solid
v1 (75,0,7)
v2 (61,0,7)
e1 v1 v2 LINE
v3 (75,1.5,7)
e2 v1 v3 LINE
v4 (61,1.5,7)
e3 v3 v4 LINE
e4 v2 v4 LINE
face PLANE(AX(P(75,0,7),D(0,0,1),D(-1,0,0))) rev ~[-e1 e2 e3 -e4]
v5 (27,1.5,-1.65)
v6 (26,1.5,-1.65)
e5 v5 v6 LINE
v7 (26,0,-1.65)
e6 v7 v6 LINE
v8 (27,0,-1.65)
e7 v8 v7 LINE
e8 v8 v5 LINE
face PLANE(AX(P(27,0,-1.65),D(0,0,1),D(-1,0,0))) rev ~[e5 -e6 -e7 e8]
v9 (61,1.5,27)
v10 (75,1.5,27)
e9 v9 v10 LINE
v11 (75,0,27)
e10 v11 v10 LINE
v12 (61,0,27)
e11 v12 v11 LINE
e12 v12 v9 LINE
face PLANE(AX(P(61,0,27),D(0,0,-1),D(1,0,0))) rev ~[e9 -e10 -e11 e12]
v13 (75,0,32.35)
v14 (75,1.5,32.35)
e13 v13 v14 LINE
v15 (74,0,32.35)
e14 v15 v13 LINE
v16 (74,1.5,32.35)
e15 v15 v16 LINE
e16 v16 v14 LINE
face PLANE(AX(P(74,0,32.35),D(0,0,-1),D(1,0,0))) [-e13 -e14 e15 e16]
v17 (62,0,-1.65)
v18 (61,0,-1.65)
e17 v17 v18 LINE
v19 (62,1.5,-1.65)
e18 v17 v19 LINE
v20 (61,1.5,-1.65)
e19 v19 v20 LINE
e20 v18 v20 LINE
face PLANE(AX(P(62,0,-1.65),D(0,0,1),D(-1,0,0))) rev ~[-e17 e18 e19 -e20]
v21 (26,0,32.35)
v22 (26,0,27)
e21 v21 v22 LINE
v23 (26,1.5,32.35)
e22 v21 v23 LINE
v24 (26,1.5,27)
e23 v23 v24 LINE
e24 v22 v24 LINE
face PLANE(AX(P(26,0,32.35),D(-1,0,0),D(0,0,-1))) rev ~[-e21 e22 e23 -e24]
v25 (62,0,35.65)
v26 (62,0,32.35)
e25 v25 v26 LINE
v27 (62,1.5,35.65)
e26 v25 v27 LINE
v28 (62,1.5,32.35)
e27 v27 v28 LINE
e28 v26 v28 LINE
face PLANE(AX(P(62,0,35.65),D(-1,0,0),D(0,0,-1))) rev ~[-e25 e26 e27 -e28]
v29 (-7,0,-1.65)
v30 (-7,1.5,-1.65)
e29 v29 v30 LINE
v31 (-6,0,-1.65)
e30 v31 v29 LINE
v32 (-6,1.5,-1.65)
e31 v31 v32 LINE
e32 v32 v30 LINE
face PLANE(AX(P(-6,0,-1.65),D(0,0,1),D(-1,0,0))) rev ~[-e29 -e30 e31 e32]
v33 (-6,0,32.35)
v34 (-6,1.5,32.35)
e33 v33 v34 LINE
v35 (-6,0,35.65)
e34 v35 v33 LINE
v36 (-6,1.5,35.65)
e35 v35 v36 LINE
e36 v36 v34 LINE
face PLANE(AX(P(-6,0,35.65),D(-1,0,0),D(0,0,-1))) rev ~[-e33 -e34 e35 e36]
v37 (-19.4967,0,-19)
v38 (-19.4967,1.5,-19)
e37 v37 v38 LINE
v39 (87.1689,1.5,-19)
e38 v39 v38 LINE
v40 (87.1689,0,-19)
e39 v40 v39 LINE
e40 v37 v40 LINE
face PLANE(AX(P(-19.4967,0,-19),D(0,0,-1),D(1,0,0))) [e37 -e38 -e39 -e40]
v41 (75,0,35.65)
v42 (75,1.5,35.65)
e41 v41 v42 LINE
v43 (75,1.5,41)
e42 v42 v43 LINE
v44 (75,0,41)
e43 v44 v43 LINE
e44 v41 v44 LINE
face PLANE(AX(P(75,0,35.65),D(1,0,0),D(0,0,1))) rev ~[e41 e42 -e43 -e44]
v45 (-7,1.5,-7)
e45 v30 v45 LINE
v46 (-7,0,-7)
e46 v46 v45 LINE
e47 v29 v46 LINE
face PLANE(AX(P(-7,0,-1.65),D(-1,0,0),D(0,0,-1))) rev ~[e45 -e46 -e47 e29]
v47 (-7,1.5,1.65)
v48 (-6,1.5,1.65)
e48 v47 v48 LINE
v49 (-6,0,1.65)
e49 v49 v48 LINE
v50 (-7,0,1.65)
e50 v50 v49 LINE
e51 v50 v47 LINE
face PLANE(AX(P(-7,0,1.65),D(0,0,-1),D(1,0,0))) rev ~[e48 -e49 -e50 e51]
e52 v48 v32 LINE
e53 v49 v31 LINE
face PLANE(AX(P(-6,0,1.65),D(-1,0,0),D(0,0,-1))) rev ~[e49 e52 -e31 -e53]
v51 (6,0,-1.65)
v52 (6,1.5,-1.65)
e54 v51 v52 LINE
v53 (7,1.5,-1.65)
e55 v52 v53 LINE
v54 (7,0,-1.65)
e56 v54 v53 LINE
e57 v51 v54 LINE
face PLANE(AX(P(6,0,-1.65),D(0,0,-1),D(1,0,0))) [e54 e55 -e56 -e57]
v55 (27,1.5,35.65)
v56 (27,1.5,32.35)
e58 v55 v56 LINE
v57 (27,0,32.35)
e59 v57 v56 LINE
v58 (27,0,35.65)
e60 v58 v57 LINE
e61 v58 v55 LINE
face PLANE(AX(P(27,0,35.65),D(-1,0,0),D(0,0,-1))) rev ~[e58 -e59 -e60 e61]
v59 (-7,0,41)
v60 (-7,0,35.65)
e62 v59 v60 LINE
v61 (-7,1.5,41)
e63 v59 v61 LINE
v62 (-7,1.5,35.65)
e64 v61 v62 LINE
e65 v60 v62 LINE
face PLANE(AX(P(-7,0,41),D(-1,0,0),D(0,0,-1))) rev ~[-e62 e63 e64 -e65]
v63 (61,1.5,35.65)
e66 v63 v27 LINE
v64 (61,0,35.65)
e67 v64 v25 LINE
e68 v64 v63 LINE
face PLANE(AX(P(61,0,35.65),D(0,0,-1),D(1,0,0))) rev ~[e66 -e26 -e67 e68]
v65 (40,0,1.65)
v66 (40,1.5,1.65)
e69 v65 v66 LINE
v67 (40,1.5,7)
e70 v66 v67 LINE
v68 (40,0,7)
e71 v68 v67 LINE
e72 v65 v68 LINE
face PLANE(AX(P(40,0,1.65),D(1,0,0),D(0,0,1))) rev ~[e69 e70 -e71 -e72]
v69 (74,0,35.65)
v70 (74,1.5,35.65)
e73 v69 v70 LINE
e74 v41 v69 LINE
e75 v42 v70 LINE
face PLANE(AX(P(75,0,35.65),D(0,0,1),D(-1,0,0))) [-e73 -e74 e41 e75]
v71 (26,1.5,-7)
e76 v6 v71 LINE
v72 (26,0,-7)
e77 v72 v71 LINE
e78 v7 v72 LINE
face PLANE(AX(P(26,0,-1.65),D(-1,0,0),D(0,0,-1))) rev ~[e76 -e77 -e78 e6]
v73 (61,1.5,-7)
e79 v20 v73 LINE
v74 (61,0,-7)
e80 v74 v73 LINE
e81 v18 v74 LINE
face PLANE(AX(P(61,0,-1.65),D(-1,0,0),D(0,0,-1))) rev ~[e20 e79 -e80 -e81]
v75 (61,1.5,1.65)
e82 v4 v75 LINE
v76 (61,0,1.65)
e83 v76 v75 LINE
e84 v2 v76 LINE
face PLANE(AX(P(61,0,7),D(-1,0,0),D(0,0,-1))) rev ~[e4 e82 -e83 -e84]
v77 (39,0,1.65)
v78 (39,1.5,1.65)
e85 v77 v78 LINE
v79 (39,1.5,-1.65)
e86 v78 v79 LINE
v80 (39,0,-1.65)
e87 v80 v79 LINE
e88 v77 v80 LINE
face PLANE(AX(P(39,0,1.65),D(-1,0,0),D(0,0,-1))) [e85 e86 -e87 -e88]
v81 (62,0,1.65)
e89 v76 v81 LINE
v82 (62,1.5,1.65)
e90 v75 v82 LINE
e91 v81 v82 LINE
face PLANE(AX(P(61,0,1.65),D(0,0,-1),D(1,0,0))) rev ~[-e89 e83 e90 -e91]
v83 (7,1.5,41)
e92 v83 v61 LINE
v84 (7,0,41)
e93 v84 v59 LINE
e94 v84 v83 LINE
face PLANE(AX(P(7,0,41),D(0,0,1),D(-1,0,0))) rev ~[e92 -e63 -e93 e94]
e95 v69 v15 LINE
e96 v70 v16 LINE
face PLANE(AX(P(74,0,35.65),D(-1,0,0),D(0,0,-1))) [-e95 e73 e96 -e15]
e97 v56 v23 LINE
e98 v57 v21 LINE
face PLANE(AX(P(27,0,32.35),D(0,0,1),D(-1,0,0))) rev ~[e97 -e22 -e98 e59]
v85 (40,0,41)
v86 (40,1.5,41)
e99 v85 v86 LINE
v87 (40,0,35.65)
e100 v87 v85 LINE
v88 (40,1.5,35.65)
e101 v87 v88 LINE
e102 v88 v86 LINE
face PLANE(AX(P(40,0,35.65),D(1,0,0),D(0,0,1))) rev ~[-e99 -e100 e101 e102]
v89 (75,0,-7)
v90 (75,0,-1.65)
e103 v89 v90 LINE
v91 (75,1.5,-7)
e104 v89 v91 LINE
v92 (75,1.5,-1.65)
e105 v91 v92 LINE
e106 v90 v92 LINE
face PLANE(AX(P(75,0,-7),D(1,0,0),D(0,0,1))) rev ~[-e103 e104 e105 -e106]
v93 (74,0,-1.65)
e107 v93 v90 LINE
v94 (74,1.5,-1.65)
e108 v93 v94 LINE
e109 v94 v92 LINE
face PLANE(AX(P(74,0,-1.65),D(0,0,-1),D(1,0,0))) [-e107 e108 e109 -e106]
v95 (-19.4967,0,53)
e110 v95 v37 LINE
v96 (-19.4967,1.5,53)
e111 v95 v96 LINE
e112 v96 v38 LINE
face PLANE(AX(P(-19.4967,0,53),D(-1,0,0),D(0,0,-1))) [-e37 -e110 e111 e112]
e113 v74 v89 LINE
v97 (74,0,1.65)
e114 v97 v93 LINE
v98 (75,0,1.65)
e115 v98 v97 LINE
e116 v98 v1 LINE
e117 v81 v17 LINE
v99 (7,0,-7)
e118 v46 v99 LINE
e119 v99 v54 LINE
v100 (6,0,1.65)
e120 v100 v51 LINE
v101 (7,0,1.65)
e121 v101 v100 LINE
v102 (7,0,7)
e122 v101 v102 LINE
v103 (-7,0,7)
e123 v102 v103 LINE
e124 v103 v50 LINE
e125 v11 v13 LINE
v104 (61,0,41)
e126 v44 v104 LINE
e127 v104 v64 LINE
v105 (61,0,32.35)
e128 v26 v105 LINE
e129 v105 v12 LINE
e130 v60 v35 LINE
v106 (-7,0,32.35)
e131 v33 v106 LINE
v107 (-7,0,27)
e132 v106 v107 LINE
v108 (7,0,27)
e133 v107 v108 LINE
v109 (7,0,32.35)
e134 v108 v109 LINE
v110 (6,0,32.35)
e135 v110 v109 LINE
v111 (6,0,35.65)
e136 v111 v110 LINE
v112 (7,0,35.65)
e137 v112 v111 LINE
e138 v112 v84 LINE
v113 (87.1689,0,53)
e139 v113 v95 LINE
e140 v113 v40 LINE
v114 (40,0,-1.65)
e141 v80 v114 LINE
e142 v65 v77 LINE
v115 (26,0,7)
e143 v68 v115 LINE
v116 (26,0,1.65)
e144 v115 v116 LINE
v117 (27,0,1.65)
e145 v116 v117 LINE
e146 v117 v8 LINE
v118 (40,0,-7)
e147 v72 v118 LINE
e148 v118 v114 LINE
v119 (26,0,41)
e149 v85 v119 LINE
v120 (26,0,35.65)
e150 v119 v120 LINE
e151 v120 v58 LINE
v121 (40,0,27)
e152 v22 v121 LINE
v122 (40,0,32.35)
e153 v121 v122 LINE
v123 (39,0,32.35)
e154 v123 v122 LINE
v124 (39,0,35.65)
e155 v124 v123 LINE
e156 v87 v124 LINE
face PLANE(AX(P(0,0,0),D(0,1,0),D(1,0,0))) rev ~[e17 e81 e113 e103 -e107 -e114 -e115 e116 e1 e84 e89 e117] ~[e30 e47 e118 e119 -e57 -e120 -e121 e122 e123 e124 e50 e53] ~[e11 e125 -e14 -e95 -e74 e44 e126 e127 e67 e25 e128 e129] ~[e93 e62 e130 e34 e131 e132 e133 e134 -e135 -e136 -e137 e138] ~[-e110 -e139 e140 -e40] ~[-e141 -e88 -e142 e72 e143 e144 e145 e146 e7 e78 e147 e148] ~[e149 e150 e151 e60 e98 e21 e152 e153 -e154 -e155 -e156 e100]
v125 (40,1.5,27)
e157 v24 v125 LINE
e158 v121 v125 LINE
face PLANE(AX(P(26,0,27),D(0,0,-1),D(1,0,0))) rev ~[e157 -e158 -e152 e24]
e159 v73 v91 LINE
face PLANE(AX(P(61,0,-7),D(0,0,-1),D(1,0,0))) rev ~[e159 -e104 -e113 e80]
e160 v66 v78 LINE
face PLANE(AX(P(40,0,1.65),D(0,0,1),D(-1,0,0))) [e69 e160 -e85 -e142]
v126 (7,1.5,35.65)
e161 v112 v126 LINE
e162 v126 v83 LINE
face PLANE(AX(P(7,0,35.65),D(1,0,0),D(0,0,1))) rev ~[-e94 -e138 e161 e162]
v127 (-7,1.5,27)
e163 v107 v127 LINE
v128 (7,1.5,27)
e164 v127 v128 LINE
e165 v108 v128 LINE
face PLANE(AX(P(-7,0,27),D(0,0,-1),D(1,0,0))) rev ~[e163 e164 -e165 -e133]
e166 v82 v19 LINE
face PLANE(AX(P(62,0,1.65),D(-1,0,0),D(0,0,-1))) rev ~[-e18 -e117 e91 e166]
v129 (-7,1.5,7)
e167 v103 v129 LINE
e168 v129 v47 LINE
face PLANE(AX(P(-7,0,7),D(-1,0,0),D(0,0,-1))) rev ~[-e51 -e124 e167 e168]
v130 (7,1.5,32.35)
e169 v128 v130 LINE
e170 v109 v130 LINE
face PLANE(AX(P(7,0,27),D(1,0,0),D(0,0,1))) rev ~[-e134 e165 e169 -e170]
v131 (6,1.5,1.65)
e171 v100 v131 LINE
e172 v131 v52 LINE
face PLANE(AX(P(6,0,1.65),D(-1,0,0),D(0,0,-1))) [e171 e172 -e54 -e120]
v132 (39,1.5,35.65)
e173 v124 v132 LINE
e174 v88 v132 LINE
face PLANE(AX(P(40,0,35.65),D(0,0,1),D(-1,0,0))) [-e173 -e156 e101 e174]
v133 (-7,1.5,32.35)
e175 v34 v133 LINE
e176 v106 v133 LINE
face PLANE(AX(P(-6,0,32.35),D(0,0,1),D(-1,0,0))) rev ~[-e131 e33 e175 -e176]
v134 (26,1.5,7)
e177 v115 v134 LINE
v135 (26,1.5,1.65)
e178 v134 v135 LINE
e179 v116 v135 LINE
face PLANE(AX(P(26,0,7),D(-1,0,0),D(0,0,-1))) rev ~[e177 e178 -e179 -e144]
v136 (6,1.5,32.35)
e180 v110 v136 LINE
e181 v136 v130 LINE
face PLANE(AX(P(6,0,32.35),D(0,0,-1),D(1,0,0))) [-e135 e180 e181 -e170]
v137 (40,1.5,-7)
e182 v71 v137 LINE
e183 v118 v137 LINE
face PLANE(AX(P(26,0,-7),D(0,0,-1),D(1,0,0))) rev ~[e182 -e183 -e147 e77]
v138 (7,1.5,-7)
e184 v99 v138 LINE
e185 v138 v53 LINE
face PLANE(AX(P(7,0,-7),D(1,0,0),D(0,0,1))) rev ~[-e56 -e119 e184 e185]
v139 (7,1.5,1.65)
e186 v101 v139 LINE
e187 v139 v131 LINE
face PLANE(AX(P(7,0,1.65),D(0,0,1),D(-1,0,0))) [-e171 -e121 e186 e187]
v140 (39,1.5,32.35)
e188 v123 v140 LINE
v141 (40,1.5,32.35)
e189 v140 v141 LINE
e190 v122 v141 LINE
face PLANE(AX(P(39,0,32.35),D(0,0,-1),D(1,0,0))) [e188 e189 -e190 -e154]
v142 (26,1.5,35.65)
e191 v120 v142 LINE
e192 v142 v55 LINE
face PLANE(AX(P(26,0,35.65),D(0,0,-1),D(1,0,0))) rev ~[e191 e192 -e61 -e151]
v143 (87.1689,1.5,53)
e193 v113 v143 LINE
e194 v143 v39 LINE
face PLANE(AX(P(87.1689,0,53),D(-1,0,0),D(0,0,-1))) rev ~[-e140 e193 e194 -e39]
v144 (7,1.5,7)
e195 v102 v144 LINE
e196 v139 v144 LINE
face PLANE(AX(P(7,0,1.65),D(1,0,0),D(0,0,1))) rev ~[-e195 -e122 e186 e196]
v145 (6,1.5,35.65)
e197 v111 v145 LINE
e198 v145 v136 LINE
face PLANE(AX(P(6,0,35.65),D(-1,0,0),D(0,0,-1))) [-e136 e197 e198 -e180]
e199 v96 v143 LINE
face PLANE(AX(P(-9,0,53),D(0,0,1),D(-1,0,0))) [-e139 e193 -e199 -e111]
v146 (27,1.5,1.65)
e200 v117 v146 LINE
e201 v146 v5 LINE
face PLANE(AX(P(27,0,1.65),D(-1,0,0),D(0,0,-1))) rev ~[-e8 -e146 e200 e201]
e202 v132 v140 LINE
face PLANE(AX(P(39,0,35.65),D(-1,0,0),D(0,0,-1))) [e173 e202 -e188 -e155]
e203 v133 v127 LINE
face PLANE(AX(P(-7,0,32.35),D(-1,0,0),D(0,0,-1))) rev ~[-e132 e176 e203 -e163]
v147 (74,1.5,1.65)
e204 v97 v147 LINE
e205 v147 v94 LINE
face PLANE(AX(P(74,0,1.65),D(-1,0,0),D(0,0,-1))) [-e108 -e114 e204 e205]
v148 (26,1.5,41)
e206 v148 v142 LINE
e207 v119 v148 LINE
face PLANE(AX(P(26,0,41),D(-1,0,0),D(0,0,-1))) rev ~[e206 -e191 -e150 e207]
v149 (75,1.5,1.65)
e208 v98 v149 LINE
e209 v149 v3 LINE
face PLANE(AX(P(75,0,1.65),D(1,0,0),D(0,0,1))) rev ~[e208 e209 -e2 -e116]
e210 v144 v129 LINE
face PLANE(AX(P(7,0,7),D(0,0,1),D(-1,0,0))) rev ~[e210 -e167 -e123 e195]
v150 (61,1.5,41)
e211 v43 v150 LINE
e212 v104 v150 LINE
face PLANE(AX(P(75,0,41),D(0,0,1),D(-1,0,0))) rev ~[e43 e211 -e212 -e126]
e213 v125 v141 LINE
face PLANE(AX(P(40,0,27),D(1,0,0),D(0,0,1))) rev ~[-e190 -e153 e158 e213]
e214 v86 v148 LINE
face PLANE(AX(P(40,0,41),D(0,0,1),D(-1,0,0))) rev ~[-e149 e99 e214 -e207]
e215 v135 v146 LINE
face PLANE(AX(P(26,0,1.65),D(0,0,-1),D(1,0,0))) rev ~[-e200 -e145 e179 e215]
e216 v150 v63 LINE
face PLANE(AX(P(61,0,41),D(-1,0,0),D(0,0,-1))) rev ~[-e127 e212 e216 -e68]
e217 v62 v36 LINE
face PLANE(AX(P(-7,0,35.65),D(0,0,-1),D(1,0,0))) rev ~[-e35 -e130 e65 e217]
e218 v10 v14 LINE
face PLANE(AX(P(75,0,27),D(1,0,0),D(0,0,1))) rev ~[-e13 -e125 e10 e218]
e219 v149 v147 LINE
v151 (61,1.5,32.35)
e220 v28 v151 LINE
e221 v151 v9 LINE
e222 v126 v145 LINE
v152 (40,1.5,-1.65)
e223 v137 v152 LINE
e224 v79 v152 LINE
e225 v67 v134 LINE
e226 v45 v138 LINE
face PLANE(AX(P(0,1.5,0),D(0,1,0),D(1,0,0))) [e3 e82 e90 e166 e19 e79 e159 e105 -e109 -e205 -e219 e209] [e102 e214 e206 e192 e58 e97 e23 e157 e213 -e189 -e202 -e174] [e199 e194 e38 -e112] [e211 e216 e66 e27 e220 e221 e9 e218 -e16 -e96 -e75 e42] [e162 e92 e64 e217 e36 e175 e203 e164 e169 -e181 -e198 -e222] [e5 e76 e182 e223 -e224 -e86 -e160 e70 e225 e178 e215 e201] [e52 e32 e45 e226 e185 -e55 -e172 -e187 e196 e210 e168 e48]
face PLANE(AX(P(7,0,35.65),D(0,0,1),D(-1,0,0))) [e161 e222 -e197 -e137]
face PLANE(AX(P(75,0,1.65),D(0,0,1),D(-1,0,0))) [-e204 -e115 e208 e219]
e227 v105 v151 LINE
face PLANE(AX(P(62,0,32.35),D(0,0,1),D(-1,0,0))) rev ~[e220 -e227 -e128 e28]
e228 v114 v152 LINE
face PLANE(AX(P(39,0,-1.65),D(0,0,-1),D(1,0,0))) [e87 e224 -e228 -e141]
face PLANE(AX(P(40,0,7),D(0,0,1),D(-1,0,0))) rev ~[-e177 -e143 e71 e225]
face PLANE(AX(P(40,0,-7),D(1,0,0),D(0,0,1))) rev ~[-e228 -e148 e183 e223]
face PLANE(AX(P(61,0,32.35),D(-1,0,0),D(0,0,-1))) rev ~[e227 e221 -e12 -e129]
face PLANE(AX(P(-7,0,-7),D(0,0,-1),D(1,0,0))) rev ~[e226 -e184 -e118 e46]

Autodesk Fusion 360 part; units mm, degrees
sketch "Skizze1" plane through (0, 0, 0) normal (0, 1, 0) x (1, 0, 0)
  line L0 (7, -7) -> (-7, -7)
  line L1 (-7, -7) -> (-7, 7)
  line L2 (-7, 7) -> (7, 7)
  line L3 (7, 7) -> (7, -7)
  line L4 (7, -7) -> (-7, 7) construction
  line L5 (-7, -7) -> (7, 7) construction
  line L6 (6, 1.65) -> (7, 1.65)
  line L7 (7, 1.65) -> (7, -1.65)
  line L8 (7, -1.65) -> (6, -1.65)
  line L9 (6, -1.65) -> (6, 1.65)
  line L10 (0, 0) -> (-0.0828, 0.0828)
  line L11 (0, 0) -> (0, 4.3114) construction
  line L12 (-7, -1.65) -> (-6, -1.65)
  line L13 (-6, -1.65) -> (-6, 1.65)
  line L14 (-7, 1.65) -> (-7, -1.65)
  line L15 (-6, 1.65) -> (-7, 1.65)
  line L16 (8, -8) -> (-8, -8) construction
  line L17 (-8, -8) -> (-8, 8) construction
  line L18 (-8, 8) -> (8, 8) construction
  line L19 (8, 8) -> (8, -8) construction
  line L20 (8, -8) -> (-8, 8) construction
  line L21 (-8, -8) -> (8, 8) construction
  line L22 (9, -9) -> (-9, -9)
  line L23 (-9, -9) -> (-9, 9)
  line L24 (-9, 9) -> (9, 9)
  line L25 (9, 9) -> (9, -9)
  line L26 (9, -9) -> (-9, 9) construction
  line L27 (-9, -9) -> (9, 9) construction
  line L28 (7, 7) -> (9, 7) construction
  line L29 (25, 8) -> (41, 8) construction
  line L30 (42, 9) -> (42, -9)
  line L31 (40, -7) -> (26, -7)
  line L32 (40, -7) -> (26, 7) construction
  line L33 (25, -8) -> (41, 8) construction
  line L34 (24, 9) -> (42, 9)
  line L35 (26, -7) -> (26, 7)
  line L36 (42, -9) -> (24, -9)
  line L37 (40, -1.65) -> (39, -1.65)
  line L38 (39, 1.65) -> (40, 1.65)
  line L39 (33, 0) -> (33, 4.3114) construction
  line L40 (39, -1.65) -> (39, 1.65)
  line L41 (40, 7) -> (40, -7)
  line L42 (33, 0) -> (32.9172, 0.0828)
  line L43 (40, 1.65) -> (40, -1.65)
  line L44 (41, 8) -> (41, -8) construction
  line L45 (25, -8) -> (25, 8) construction
  line L46 (40, 7) -> (42, 7) construction
  line L47 (27, -1.65) -> (27, 1.65)
  line L48 (41, -8) -> (25, 8) construction
  line L49 (41, -8) -> (25, -8) construction
  line L50 (26, -7) -> (40, 7) construction
  line L51 (26, 7) -> (40, 7)
  line L52 (42, -9) -> (24, 9) construction
  line L53 (26, 1.65) -> (26, -1.65)
  line L54 (26, -1.65) -> (27, -1.65)
  line L55 (24, -9) -> (24, 9)
  line L56 (27, 1.65) -> (26, 1.65)
  line L57 (24, -9) -> (42, 9) construction
  line L58 (33, -34) -> (33, -29.6886) construction
  line L59 (41, -42) -> (25, -26) construction
  line L60 (40, -41) -> (26, -27) construction
  line L61 (25, -42) -> (41, -26) construction
  line L62 (39, -35.65) -> (39, -32.35)
  line L63 (24, -43) -> (42, -25) construction
  line L64 (24, -25) -> (42, -25)
  line L65 (24, -43) -> (24, -25)
  line L66 (26, -41) -> (40, -27) construction
  line L67 (40, -27) -> (42, -27) construction
  line L68 (41, -26) -> (41, -42) construction
  line L69 (26, -32.35) -> (26, -35.65)
  line L70 (25, -42) -> (25, -26) construction
  line L71 (41, -42) -> (25, -42) construction
  line L72 (27, -35.65) -> (27, -32.35)
  line L73 (40, -35.65) -> (39, -35.65)
  line L74 (42, -43) -> (24, -43)
  line L75 (40, -41) -> (26, -41)
  line L76 (26, -41) -> (26, -27)
  line L77 (26, -35.65) -> (27, -35.65)
  line L78 (42, -43) -> (24, -25) construction
  line L79 (27, -32.35) -> (26, -32.35)
  line L80 (25, -26) -> (41, -26) construction
  line L81 (42, -25) -> (42, -43)
  line L82 (9, -43) -> (-9, -25) construction
  line L83 (8, -42) -> (-8, -42) construction
  line L84 (39, -32.35) -> (40, -32.35)
  line L85 (40, -32.35) -> (40, -35.65)
  line L86 (0, -34) -> (-0.0828, -33.9172)
  line L87 (-7, -35.65) -> (-6, -35.65)
  line L88 (8, -26) -> (8, -42) construction
  line L89 (6, -32.35) -> (7, -32.35)
  line L90 (0, -34) -> (0, -29.6886) construction
  line L91 (-9, -43) -> (9, -25) construction
  line L92 (7, -32.35) -> (7, -35.65)
  line L93 (7, -35.65) -> (6, -35.65)
  line L94 (7, -27) -> (7, -41)
  line L95 (6, -35.65) -> (6, -32.35)
  line L96 (-6, -32.35) -> (-7, -32.35)
  line L97 (-9, -43) -> (-9, -25)
  line L98 (9, -25) -> (9, -43)
  line L99 (-8, -26) -> (8, -26) construction
  line L100 (-8, -42) -> (-8, -26) construction
  line L101 (7, -41) -> (-7, -27) construction
  line L102 (-9, -25) -> (9, -25)
  line L103 (7, -27) -> (9, -27) construction
  line L104 (-7, -41) -> (-7, -27)
  line L105 (8, -42) -> (-8, -26) construction
  line L106 (-7, -32.35) -> (-7, -35.65)
  line L107 (-7, -27) -> (7, -27)
  line L108 (-6, -35.65) -> (-6, -32.35)
  line L109 (7, -41) -> (-7, -41)
  line L110 (-8, -42) -> (8, -26) construction
  line L111 (-7, -41) -> (7, -27) construction
  line L112 (9, -43) -> (-9, -43)
  line L113 (33, -34) -> (32.9172, -33.9172)
  line L114 (40, -27) -> (40, -41)
  line L115 (26, -27) -> (40, -27)
  line L116 (68, -34) -> (67.9172, -33.9172)
  line L117 (60, -42) -> (60, -26) construction
  line L118 (61, -41) -> (61, -27)
  line L119 (61, -35.65) -> (62, -35.65)
  line L120 (62, -32.35) -> (61, -32.35)
  line L121 (61, -32.35) -> (61, -35.65)
  line L122 (68, -34) -> (68, -29.6886) construction
  line L123 (61, -7) -> (61, 7)
  line L124 (62, -35.65) -> (62, -32.35)
  line L125 (59, -43) -> (59, -25)
  line L126 (68, 0) -> (68, 4.3114) construction
  line L127 (68, 0) -> (67.9172, 0.0828)
  line L128 (61, -7) -> (75, 7) construction
  line L129 (59, -9) -> (59, 9)
  line L130 (62, -1.65) -> (62, 1.65)
  line L131 (61, -1.65) -> (62, -1.65)
  line L132 (75, -7) -> (61, 7) construction
  line L133 (62, 1.65) -> (61, 1.65)
  line L134 (61, 1.65) -> (61, -1.65)
  line L135 (60, -8) -> (60, 8) construction
  line L136 (77, -25) -> (77, -43)
  line L137 (74, -32.35) -> (75, -32.35)
  line L138 (77, -9) -> (59, 9) construction
  line L139 (75, -32.35) -> (75, -35.65)
  line L140 (75, -35.65) -> (74, -35.65)
  line L141 (75, -27) -> (75, -41)
  line L142 (76, -26) -> (76, -42) construction
  line L143 (76, -8) -> (60, 8) construction
  line L144 (74, -35.65) -> (74, -32.35)
  line L145 (75, -27) -> (77, -27) construction
  line L146 (59, -9) -> (77, 9) construction
  line L147 (74, 1.65) -> (75, 1.65)
  line L148 (60, -8) -> (76, 8) construction
  line L149 (76, -8) -> (60, -8) construction
  line L150 (60, -26) -> (76, -26) construction
  line L151 (75, -41) -> (61, -41)
  line L152 (61, -27) -> (75, -27)
  line L153 (60, -42) -> (76, -26) construction
  line L154 (76, -42) -> (60, -26) construction
  line L155 (77, -9) -> (59, -9)
  line L156 (75, 7) -> (77, 7) construction
  line L157 (59, 9) -> (77, 9)
  line L158 (76, 8) -> (76, -8) construction
  line L159 (59, -25) -> (77, -25)
  line L160 (75, 1.65) -> (75, -1.65)
  line L161 (61, -41) -> (75, -27) construction
  line L162 (77, 9) -> (77, -9)
  line L163 (76, -42) -> (60, -42) construction
  line L164 (60, 8) -> (76, 8) construction
  line L165 (77, -43) -> (59, -25) construction
  line L166 (75, -1.65) -> (74, -1.65)
  line L167 (75, -41) -> (61, -27) construction
  line L168 (59, -43) -> (77, -25) construction
  line L169 (77, -43) -> (59, -43)
  line L170 (61, 7) -> (75, 7)
  line L171 (75, 7) -> (75, -7)
  line L172 (74, -1.65) -> (74, 1.65)
  line L173 (75, -7) -> (61, -7)
  line L174 (-9, -9) -> (77, -9)
  line L175 (77, -9) -> (77, -25)
  line L176 (77, -25) -> (-9, -25)
  line L177 (-9, -25) -> (-9, -9)
  line L178 (42, 9) -> (59, 9)
  line L179 (59, 9) -> (59, -9)
  line L180 (59, -9) -> (42, -9)
  line L181 (42, -9) -> (42, 9)
  line L182 (9, 9) -> (24, 9)
  line L183 (24, 9) -> (24, -9)
  line L184 (24, -9) -> (9, -9)
  line L185 (9, -9) -> (9, 9)
  line L186 (9, -25) -> (24, -25)
  line L187 (24, -25) -> (24, -43)
  line L188 (24, -43) -> (9, -43)
  line L189 (9, -43) -> (9, -25)
  line L190 (42, -25) -> (59, -25)
  line L191 (59, -25) -> (59, -43)
  line L192 (59, -43) -> (42, -43)
  line L193 (42, -43) -> (42, -25)
  line L194 (-9, -43) -> (77, -43)
  line L195 (77, -43) -> (77, -53)
  line L196 (77, -53) -> (-9, -53)
  line L197 (-9, -53) -> (-9, -43)
  line L198 (77, 9) -> (-9, 9)
  line L199 (-9, 9) -> (-9, 19)
  line L200 (-9, 19) -> (77, 19)
  line L201 (77, 19) -> (77, 9)
  line L202 (77, 19) -> (77, 19)
  line L203 (77, 19) -> (77, -53)
  line L204 (77, -53) -> (77, -53)
  line L205 (77, -53) -> (77, 19)
  line L206 (77, -53) -> (87.1689, -53)
  line L207 (87.1689, -53) -> (87.1689, 19)
  line L208 (87.1689, 19) -> (77, 19)
  line L209 (77, 19) -> (77, -53)
  line L210 (-9, -53) -> (-19.4967, -53)
  line L211 (-19.4967, -53) -> (-19.4967, 19)
  line L212 (-19.4967, 19) -> (-9, 19)
  line L213 (-9, 19) -> (-9, -53)
  point P0 (33, 0)
  point P1 (33, 0)
  point P2 (33, 0)
  point P3 (0, -34)
  point P4 (0, -34)
  point P5 (0, -34)
  point P6 (33, -34)
  point P7 (33, -34)
  point P8 (33, -34)
  point P9 (68, 0)
  point P10 (68, 0)
  point P11 (68, 0)
  point P12 (68, -34)
  point P13 (68, -34)
  point P14 (68, -34)
  dimension "d1" = 14
  dimension "d2" = 14
  dimension "d6" = 1
  dimension "d7" = 3.3
  dimension "d8" = 16
  dimension "d9" = 16
  dimension "d10" = 18
  dimension "d11" = 18
  dimension "d13" = 2
  dimension "d19" = 14
  dimension "d20" = 14
  dimension "d21" = 1
  dimension "d22" = 3.3
  dimension "d23" = 16
  dimension "d24" = 16
  dimension "d25" = 18
  dimension "d26" = 18
  dimension "d27" = 2
  dimension "d28" = 14
  dimension "d29" = 14
  dimension "d30" = 1
  dimension "d31" = 3.3
  dimension "d32" = 16
  dimension "d33" = 16
  dimension "d34" = 18
  dimension "d35" = 18
  dimension "d36" = 2
  dimension "d37" = 14
  dimension "d38" = 14
  dimension "d39" = 1
  dimension "d40" = 3.3
  dimension "d41" = 16
  dimension "d42" = 16
  dimension "d43" = 18
  dimension "d44" = 18
  dimension "d45" = 2
  dimension "d46" = 14
  dimension "d47" = 14
  dimension "d48" = 1
  dimension "d49" = 3.3
  dimension "d50" = 16
  dimension "d51" = 16
  dimension "d52" = 18
  dimension "d53" = 18
  dimension "d54" = 2
  dimension "d55" = 14
  dimension "d56" = 14
  dimension "d57" = 1
  dimension "d58" = 3.3
  dimension "d59" = 16
  dimension "d60" = 16
  dimension "d61" = 18
  dimension "d62" = 18
  dimension "d63" = 2
extrude "Extrusion2" add sketch "Skizze1" along normal blind 1.5 contours L3 L6 L7 L8 L9 | L1 L12 L13 L14 L15 | L22 L36 L64 L102 L155 L159 L174 L175 L176 L177 L180 L184 L186 L190 L203 L205 L209 L213 | L22 L23 L24 L25 L174 L185 L198 L213 | L25 L55 L174 L182 L183 L184 L185 L198 | L23 L97 L177 L197 L199 L210 L211 L212 L213 | L24 L34 L157 L178 L182 L198 L199 L200 L201 L203 L205 L209 L213 | L30 L34 L36 L55 L174 L181 L183 L198 | L97 L98 L102 L112 L176 L189 L194 L213 | L30 L129 L174 L178 L179 L180 L181 L198 | L74 L112 L169 L188 L192 L194 L195 L196 L197 L203 L205 L209 L213 | L65 L98 L176 L186 L187 L188 L189 L194 | L129 L155 L157 L162 L174 L179 L198 L203 L205 L209 | L136 L162 L175 L195 L201 L203 L205 L206 L207 L208 L209 | L64 L65 L74 L81 L176 L187 L193 L194 | L81 L125 L176 L190 L191 L192 L193 L194 | L125 L136 L159 L169 L176 L191 L194 L203 L205 L209 | L37 L38 L40 L41 L43 | L35 L47 L53 L54 L56 | L62 L73 L84 L85 L114 | L69 L72 L76 L77 L79 | L87 L96 L104 L106 L108 | L89 L92 L93 L94 L95 | L118 L119 L120 L121 L124 | L137 L139 L140 L141 L144 | L123 L130 L131 L133 L134 | L147 L160 L166 L171 L172
extrude "Extrusion1" [suppressed]
chamfer "Fase1" [suppressed]
equation "d11 = d10"
equation "d26 = d10"
equation "d35 = d10"
equation "d44 = d10"
equation "d53 = d10"
equation "d62 = d10"
